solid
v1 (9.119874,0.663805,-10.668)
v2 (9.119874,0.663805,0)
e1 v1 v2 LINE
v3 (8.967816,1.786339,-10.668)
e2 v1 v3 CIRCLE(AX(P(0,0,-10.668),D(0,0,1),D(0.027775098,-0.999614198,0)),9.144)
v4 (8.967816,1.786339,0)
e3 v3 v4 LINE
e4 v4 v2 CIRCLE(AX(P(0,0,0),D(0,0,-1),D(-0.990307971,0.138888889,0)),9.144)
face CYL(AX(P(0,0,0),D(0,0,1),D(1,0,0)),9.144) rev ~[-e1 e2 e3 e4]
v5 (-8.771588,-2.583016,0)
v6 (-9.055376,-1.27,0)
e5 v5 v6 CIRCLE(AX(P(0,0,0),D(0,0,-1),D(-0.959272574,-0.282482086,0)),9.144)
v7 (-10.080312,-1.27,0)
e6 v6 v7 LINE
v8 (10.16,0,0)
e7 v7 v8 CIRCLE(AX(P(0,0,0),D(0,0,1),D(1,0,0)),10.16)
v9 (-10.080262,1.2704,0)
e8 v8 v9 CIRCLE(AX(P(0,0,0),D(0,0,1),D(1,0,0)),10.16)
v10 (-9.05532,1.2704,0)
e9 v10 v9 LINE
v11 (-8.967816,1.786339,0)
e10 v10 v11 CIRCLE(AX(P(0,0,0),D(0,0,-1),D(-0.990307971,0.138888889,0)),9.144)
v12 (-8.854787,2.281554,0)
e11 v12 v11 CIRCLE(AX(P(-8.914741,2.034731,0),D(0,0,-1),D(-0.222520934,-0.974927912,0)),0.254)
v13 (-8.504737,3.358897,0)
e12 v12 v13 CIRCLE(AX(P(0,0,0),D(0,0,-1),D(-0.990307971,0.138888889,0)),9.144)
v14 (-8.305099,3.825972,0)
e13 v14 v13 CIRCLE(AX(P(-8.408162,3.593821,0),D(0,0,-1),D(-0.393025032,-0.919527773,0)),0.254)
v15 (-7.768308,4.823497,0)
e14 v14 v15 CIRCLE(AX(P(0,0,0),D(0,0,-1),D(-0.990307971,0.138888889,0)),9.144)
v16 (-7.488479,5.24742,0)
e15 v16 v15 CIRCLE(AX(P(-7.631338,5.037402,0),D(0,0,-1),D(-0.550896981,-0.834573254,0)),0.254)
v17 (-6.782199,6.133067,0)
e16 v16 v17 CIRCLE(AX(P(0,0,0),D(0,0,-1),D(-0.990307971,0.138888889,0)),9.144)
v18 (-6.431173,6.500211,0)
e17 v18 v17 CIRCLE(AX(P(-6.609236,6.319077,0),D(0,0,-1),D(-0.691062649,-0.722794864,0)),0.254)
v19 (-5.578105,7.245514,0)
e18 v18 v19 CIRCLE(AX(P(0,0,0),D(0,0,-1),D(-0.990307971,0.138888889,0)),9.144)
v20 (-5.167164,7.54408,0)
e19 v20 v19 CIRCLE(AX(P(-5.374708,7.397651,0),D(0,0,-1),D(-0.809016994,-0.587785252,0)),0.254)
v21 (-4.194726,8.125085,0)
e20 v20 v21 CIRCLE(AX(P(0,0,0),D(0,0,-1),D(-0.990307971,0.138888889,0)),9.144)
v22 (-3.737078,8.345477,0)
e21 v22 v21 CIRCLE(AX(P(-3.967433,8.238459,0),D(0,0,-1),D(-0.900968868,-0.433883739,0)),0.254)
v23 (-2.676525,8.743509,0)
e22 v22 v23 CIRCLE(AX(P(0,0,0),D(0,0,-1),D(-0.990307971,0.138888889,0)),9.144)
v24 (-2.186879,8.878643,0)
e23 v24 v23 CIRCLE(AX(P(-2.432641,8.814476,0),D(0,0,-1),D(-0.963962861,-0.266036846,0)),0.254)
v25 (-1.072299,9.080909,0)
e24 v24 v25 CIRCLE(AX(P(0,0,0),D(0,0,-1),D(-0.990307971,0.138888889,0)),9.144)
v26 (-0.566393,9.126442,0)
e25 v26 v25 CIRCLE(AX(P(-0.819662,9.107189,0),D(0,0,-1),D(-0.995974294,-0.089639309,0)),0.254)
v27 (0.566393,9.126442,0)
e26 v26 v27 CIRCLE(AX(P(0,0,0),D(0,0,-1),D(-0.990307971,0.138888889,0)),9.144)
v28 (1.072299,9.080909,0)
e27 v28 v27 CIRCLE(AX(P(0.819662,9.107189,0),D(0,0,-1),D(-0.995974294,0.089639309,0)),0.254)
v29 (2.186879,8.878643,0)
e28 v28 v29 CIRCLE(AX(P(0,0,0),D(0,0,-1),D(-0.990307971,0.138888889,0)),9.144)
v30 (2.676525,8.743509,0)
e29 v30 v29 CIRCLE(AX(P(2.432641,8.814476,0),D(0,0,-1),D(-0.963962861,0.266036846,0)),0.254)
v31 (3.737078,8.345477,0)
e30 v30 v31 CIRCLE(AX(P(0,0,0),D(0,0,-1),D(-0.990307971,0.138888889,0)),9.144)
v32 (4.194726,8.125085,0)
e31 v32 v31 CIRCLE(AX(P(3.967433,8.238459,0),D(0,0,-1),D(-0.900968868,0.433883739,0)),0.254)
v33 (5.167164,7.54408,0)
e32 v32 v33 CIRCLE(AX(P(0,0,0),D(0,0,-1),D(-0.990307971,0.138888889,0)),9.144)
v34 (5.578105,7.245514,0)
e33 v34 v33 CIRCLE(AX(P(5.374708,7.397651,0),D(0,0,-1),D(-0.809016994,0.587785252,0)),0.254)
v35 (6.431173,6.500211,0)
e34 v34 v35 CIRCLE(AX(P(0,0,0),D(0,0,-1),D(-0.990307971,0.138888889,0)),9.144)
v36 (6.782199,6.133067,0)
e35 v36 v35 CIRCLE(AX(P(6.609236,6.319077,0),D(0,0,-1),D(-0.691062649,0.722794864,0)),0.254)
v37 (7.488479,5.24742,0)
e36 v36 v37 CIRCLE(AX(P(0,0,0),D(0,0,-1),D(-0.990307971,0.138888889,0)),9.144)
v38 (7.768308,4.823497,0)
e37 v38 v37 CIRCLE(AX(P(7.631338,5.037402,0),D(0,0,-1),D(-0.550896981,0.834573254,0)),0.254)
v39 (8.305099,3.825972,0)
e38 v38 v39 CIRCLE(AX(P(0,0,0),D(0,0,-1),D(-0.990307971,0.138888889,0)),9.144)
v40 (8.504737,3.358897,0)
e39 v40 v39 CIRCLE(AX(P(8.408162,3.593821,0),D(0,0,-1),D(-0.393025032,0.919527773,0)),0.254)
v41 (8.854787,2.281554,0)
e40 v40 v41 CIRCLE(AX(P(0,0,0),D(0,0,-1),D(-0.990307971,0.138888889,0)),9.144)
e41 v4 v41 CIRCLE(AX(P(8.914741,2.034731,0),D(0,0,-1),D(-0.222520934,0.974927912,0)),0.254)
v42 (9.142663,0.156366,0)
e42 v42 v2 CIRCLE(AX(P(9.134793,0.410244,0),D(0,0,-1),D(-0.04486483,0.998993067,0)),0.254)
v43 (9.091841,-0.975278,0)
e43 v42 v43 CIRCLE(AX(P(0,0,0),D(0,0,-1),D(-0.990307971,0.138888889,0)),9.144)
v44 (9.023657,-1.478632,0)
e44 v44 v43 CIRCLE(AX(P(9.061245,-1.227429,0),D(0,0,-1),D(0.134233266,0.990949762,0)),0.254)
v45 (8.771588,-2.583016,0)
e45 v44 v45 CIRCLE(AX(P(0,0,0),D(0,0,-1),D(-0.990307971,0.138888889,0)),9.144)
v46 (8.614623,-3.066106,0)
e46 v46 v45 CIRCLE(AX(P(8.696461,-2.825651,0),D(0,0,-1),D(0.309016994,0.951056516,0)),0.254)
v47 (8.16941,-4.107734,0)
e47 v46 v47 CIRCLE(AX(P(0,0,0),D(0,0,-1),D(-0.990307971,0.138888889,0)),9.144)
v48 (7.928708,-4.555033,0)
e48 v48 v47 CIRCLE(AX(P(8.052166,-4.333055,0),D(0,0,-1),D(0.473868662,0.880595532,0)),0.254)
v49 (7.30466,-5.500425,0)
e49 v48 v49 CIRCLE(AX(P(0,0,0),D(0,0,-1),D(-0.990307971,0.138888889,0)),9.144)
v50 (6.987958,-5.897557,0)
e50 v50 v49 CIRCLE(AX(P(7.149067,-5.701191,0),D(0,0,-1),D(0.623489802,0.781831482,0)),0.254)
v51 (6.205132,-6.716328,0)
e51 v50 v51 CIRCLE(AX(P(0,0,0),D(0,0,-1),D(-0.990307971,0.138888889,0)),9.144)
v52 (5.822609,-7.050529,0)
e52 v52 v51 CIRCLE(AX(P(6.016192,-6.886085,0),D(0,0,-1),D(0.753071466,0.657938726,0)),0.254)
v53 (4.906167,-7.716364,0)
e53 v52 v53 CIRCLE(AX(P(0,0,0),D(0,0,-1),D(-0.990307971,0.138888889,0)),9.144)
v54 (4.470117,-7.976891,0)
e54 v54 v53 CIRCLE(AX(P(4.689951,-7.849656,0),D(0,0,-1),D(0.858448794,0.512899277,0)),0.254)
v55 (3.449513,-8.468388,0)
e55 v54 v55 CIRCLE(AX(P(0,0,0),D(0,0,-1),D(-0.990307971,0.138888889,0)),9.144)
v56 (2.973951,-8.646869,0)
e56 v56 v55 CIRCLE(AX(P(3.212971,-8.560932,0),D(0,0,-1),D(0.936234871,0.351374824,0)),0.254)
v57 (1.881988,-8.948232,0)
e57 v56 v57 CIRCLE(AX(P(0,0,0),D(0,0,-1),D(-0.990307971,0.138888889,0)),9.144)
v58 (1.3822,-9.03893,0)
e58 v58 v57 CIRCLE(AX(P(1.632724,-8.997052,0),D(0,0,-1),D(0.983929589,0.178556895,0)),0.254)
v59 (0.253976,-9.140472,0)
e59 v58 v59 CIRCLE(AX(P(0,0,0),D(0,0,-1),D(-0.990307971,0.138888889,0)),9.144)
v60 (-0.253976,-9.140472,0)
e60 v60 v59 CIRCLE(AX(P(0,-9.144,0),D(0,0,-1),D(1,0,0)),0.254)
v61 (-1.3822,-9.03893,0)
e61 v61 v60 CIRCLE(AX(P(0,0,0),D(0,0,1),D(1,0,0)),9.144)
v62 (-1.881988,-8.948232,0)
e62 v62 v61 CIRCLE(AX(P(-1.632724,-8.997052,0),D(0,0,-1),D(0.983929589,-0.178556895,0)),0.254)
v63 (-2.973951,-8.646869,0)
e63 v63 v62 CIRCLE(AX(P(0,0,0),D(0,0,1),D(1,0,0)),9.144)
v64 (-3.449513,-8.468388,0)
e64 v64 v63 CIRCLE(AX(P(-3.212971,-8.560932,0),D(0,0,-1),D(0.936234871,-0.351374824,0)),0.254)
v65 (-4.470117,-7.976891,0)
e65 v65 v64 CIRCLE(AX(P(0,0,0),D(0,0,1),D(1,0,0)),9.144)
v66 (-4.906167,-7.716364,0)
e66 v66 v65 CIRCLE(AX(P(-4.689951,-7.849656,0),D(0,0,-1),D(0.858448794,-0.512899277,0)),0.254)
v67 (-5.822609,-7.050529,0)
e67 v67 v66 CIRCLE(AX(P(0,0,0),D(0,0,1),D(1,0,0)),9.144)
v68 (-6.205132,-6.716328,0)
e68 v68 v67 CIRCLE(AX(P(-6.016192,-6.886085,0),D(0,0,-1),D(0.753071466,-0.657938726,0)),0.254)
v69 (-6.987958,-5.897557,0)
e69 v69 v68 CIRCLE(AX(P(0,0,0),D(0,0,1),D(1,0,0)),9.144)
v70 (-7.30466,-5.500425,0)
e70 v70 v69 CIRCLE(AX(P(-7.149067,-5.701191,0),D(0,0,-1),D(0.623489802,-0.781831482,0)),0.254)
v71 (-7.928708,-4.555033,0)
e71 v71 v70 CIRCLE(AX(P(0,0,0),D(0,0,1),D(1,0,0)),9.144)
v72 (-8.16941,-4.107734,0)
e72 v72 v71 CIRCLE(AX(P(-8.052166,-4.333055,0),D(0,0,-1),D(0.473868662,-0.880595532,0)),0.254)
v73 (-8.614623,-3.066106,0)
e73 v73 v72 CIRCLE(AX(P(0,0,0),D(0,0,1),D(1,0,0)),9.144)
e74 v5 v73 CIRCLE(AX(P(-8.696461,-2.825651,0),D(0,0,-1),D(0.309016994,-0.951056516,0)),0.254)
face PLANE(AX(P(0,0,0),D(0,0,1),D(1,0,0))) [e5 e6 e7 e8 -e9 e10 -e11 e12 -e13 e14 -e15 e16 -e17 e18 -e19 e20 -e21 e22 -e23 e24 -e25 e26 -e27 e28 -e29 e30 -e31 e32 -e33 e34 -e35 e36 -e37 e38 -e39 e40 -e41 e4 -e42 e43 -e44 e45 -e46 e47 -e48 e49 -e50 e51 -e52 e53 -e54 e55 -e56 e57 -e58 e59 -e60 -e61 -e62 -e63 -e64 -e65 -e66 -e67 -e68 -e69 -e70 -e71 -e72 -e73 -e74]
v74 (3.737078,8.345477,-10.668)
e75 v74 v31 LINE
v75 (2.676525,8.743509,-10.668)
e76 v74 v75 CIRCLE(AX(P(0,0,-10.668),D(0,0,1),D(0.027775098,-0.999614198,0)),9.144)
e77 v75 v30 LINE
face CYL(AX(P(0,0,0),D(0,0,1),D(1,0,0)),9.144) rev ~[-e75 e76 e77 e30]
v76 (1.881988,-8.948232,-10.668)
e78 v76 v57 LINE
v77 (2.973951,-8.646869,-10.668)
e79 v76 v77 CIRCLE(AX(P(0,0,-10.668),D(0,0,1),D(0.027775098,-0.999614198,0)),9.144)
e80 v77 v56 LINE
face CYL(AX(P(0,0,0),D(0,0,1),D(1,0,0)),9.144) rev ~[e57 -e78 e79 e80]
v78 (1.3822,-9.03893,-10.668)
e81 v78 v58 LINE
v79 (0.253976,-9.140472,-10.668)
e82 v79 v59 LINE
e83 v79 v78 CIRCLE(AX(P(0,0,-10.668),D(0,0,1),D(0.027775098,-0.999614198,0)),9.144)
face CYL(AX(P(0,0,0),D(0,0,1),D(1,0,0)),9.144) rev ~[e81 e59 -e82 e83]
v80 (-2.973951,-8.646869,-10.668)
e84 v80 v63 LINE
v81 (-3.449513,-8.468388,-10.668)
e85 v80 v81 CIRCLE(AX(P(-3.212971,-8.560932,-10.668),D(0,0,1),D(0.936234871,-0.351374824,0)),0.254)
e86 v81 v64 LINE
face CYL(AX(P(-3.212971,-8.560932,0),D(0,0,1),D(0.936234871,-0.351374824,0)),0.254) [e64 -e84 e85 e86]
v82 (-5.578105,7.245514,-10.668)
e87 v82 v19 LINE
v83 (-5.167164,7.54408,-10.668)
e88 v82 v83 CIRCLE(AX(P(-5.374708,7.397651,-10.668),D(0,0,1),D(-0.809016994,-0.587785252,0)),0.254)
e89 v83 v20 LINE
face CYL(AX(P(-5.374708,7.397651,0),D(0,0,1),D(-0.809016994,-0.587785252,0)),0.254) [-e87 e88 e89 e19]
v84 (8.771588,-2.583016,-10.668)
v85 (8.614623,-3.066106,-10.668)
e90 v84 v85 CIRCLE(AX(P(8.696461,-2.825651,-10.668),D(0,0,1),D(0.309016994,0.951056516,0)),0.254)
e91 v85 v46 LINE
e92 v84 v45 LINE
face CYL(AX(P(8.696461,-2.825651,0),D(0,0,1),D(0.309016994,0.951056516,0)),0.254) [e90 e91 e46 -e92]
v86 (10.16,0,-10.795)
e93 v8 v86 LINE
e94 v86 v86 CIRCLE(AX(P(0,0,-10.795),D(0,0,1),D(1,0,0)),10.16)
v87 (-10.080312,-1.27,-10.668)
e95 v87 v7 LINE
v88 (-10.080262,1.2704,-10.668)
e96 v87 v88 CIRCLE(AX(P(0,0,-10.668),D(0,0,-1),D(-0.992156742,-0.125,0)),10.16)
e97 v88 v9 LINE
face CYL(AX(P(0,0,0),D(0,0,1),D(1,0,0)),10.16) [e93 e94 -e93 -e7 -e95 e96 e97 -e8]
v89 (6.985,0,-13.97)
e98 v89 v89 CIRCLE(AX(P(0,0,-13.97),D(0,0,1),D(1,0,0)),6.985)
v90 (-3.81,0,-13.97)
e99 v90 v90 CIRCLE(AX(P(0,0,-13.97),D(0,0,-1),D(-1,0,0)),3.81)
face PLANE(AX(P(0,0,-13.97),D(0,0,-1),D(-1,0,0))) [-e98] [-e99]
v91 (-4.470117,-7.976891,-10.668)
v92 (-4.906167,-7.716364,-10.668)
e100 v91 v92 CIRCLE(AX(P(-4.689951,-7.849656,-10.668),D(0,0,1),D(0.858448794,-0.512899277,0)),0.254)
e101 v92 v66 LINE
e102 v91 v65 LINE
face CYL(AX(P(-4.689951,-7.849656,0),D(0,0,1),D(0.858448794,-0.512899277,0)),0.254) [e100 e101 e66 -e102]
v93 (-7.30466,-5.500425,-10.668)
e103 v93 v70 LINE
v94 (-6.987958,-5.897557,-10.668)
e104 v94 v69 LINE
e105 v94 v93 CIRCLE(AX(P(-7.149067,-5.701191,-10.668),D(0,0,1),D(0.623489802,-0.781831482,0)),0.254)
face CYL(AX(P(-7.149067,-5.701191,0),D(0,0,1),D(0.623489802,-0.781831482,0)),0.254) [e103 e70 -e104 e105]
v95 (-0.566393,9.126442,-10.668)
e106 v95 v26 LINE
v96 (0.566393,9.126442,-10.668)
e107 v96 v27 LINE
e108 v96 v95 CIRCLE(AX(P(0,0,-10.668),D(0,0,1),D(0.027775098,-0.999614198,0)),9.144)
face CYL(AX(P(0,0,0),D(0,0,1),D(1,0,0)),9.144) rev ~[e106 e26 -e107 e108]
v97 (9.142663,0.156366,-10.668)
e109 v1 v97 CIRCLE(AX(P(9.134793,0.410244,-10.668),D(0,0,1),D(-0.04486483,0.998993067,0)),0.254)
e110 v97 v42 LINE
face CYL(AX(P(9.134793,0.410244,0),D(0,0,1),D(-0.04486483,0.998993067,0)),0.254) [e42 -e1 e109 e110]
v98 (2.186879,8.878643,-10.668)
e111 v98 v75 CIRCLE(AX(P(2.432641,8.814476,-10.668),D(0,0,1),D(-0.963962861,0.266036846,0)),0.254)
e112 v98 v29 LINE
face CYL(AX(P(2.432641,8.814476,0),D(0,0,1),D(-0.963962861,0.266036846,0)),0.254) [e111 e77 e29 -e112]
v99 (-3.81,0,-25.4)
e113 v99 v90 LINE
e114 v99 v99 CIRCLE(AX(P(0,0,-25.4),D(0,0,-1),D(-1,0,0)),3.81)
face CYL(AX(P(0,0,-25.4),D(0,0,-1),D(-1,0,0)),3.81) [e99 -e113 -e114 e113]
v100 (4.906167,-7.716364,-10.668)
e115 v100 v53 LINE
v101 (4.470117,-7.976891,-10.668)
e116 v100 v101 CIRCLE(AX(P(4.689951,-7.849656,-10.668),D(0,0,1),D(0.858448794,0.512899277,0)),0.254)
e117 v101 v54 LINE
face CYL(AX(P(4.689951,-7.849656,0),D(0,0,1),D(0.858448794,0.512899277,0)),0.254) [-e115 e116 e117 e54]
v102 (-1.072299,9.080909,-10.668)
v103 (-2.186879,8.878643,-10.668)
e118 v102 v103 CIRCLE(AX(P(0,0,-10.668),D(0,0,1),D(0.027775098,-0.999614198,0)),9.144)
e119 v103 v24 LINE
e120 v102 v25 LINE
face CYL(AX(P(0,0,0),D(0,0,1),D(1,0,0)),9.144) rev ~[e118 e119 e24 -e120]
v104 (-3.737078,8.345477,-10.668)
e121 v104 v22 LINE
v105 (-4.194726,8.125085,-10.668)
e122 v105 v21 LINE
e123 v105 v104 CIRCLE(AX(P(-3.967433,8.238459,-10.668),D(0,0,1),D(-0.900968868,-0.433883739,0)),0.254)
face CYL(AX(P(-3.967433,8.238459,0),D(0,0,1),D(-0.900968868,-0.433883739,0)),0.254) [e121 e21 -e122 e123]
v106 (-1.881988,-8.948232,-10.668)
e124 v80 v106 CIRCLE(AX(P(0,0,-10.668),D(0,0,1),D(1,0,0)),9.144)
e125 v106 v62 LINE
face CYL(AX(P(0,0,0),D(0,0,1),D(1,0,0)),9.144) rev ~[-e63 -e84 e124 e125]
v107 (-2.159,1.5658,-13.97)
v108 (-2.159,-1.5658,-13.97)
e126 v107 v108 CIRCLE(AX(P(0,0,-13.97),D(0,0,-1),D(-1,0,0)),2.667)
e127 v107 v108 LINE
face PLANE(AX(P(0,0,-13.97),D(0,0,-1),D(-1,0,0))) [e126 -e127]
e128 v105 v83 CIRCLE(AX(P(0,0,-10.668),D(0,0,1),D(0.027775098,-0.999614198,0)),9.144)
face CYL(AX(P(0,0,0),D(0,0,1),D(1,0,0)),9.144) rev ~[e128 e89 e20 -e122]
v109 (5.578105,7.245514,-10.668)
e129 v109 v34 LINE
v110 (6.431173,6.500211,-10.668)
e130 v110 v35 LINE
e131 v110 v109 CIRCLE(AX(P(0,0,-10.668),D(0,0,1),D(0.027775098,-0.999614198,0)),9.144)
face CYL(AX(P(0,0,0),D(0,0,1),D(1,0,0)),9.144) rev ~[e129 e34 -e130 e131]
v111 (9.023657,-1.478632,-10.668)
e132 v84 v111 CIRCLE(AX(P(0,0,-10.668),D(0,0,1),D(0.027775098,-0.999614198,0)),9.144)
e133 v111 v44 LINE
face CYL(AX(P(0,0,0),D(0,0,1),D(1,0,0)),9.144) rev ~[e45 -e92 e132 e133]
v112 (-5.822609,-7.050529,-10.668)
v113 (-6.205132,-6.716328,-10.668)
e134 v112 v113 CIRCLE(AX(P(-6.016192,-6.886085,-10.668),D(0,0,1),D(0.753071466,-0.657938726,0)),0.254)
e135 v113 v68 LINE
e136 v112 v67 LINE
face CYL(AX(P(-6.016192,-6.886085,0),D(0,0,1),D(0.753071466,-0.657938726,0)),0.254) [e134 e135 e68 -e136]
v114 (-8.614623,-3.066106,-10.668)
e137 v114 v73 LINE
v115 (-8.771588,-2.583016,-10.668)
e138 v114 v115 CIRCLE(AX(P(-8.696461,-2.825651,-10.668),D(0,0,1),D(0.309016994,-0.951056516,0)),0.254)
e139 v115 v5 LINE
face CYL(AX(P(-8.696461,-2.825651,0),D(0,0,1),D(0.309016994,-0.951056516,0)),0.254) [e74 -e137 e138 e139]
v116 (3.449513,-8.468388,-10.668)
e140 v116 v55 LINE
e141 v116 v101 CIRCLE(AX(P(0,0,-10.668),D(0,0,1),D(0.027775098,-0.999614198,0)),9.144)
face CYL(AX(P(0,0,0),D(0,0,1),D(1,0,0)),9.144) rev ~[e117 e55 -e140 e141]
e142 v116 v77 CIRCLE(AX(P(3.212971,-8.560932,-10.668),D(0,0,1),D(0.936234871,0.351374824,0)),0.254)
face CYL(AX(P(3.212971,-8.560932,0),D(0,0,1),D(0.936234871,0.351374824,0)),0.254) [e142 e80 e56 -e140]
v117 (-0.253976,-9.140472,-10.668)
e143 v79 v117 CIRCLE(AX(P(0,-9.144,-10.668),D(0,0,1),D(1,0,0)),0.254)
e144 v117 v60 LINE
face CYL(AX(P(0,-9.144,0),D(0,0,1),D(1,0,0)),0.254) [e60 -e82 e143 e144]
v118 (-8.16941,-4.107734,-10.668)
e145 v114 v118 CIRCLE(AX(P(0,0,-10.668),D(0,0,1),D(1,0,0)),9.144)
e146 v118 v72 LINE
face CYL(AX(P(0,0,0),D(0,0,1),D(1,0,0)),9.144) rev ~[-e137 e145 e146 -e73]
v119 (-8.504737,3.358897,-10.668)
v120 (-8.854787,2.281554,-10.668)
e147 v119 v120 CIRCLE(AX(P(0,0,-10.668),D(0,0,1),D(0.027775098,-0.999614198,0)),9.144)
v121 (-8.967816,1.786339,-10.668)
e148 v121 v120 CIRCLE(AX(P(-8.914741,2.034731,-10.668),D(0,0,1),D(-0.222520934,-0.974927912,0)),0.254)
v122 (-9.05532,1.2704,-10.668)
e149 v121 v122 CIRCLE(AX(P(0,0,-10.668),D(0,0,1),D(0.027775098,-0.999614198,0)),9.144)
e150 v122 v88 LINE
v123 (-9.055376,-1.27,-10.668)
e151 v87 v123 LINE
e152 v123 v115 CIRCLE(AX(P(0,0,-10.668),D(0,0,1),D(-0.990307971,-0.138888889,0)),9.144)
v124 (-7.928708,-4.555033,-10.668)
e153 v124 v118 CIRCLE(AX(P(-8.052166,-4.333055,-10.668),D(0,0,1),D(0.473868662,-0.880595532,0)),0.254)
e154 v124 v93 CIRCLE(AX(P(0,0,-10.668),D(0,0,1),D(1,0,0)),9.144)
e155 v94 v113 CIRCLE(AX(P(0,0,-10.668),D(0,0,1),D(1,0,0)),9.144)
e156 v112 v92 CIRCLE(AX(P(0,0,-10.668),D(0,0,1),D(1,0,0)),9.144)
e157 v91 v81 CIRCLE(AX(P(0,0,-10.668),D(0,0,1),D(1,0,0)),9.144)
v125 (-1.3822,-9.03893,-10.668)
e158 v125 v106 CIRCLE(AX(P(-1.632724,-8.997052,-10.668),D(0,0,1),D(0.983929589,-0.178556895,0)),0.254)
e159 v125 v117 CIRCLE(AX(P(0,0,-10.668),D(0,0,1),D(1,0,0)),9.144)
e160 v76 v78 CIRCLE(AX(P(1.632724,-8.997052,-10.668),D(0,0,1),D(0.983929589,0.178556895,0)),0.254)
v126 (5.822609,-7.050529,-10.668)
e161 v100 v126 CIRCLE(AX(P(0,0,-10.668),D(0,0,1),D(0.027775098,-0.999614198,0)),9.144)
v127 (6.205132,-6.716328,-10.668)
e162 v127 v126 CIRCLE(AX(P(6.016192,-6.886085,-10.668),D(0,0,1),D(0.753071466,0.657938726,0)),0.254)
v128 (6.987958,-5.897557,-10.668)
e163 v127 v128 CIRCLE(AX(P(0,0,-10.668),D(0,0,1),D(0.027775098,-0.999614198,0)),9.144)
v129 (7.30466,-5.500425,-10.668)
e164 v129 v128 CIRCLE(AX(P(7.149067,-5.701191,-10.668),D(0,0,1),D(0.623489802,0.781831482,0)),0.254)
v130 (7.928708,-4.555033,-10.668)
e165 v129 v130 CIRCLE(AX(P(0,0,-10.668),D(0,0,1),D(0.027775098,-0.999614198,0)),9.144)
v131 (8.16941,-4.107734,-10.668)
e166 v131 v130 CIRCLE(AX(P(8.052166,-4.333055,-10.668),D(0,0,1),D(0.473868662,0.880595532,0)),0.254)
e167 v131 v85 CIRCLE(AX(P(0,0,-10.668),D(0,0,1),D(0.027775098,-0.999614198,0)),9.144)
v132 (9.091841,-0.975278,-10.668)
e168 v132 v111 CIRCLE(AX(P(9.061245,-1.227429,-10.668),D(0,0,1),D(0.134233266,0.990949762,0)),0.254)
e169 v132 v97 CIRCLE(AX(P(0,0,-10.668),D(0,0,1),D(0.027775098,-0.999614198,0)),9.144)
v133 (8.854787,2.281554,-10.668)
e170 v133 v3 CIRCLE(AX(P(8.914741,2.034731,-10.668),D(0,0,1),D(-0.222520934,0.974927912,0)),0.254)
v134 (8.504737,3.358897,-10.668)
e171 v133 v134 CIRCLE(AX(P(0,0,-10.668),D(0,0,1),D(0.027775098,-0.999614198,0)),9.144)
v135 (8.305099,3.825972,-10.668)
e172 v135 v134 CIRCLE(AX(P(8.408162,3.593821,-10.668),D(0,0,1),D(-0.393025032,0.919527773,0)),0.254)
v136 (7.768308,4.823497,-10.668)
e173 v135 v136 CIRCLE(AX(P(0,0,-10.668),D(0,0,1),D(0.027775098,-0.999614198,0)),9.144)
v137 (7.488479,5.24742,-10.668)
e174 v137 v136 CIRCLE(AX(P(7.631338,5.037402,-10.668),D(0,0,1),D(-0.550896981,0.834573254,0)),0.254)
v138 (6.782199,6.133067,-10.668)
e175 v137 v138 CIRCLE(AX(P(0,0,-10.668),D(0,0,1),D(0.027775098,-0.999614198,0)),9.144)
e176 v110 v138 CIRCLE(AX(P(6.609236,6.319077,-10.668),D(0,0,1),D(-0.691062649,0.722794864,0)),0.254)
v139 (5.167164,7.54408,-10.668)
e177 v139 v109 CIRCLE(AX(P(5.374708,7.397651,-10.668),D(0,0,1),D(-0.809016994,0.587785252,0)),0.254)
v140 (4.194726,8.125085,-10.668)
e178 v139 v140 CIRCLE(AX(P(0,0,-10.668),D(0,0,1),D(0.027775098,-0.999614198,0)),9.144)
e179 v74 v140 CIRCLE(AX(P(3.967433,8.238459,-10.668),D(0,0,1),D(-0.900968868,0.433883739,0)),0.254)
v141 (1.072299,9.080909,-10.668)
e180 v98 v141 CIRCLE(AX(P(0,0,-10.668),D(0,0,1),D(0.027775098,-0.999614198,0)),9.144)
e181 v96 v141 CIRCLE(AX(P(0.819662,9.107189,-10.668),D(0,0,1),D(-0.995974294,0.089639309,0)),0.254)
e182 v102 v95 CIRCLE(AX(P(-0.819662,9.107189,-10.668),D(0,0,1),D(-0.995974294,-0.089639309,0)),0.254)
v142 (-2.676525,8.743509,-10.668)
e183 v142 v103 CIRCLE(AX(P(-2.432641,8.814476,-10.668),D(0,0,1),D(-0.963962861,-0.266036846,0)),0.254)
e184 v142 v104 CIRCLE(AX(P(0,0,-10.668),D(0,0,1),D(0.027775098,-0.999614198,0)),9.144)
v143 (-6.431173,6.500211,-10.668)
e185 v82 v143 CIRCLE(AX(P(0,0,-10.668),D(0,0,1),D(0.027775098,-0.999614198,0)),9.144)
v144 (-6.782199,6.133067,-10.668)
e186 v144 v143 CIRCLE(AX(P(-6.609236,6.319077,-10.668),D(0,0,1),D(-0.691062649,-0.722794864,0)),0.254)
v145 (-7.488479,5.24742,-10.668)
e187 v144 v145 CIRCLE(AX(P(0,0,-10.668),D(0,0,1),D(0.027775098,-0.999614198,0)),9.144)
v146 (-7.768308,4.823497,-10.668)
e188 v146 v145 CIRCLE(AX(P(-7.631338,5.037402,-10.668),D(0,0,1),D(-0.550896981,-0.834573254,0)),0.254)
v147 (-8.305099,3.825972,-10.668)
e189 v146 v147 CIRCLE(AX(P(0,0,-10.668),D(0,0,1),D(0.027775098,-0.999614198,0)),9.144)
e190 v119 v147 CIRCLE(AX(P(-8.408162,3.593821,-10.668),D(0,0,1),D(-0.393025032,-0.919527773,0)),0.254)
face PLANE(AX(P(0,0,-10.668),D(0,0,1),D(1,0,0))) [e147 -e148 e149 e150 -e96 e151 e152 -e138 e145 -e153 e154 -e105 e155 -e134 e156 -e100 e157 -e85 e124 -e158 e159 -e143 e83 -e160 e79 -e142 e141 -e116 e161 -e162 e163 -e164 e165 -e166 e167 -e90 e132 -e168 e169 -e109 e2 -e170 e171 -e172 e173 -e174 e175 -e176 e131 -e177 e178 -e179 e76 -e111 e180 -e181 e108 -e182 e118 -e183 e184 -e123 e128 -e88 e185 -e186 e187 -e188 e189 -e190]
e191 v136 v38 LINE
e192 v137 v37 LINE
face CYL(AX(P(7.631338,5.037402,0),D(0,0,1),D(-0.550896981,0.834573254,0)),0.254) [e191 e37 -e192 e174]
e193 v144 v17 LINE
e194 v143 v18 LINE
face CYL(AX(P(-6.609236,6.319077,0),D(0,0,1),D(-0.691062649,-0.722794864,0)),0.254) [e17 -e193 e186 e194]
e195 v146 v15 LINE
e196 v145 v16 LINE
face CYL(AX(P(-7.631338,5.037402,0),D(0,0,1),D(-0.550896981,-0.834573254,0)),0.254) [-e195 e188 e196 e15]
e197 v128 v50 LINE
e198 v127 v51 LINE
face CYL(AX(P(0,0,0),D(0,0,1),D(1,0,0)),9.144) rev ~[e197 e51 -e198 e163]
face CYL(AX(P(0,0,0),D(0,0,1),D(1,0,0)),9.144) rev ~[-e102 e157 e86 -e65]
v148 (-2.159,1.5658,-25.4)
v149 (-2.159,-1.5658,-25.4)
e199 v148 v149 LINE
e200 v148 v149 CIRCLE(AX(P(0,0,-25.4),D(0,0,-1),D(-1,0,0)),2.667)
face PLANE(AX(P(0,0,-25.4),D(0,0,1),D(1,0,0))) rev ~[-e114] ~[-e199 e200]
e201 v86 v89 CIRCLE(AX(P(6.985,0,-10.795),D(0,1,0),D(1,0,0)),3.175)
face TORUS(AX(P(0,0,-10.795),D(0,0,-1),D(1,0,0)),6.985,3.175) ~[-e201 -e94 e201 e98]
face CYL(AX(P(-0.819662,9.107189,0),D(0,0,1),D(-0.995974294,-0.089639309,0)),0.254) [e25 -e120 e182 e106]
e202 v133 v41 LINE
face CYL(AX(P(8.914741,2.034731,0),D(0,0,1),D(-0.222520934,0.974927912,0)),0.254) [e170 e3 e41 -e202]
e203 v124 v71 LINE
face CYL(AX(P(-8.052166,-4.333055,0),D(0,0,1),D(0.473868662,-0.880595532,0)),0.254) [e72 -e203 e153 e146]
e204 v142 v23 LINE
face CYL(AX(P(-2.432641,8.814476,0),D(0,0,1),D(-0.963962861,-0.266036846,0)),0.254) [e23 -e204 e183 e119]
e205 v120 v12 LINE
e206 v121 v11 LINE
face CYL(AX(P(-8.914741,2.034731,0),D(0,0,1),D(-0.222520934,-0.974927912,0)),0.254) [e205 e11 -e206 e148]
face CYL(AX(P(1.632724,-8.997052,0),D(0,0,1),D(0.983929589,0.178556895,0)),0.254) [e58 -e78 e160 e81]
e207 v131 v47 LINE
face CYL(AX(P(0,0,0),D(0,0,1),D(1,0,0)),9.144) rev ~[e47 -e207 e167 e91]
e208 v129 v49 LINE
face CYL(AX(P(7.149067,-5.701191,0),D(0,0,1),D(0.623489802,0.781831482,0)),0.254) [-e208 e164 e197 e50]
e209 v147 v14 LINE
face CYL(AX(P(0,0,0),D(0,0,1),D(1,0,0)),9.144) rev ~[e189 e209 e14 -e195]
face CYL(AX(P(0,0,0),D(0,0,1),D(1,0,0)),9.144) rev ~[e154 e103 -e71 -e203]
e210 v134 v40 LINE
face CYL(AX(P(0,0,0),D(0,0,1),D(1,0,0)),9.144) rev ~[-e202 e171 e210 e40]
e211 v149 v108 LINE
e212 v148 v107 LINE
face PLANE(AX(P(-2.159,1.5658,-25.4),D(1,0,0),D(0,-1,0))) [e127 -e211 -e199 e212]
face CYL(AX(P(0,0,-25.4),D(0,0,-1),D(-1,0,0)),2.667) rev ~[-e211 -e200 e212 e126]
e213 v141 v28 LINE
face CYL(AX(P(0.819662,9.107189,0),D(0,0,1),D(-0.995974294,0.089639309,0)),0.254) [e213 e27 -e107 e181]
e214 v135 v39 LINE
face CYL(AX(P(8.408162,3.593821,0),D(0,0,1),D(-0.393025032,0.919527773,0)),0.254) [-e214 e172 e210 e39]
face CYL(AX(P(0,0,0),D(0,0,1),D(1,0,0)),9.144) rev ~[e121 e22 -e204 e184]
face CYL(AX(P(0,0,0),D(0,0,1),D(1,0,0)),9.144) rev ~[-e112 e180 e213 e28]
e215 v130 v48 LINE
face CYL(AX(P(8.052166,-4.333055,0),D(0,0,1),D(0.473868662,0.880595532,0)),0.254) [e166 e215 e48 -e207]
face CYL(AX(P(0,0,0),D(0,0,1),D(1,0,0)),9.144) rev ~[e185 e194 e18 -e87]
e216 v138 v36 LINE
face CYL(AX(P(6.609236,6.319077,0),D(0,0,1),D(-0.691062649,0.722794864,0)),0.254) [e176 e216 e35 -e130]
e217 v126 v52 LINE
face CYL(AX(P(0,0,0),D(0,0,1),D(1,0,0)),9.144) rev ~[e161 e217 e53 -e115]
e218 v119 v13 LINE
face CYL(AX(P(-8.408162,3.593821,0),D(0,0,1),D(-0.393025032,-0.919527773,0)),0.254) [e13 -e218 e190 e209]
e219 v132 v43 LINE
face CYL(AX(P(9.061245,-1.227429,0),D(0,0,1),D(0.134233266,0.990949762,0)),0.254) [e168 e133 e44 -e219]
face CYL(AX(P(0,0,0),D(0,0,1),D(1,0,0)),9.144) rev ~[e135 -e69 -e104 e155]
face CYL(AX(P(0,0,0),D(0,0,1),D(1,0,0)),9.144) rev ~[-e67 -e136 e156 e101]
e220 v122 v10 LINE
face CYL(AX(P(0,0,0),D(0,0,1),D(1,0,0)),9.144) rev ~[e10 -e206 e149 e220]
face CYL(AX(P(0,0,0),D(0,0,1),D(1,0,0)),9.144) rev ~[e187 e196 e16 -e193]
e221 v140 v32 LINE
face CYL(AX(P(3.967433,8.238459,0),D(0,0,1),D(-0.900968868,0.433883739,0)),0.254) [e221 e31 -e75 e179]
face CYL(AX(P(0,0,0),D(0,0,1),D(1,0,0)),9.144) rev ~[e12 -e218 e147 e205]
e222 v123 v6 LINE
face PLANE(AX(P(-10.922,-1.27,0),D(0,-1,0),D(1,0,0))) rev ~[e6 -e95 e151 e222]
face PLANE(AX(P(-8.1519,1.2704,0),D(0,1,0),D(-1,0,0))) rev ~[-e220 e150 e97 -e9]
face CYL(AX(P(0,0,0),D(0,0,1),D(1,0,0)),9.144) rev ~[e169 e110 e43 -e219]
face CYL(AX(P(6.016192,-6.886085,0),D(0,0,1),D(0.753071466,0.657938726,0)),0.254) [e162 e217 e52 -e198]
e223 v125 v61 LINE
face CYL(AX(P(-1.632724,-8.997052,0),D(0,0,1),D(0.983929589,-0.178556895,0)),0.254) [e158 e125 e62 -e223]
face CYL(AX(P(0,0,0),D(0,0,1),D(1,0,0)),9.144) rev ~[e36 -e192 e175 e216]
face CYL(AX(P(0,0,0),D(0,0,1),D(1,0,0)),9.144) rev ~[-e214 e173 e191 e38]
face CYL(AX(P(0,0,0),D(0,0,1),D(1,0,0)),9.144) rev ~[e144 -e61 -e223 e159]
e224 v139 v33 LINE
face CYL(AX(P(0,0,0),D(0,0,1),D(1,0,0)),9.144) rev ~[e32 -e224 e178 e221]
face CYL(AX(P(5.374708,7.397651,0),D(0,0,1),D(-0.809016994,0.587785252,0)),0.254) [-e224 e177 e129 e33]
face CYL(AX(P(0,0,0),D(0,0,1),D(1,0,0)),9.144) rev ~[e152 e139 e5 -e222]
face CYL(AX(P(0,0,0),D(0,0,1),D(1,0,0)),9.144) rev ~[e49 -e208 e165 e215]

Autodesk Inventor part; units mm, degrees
ref_plane "YZ Plane" through (0, 0, 0) normal (1, 0, 0) x (0, 1, 0)
ref_plane "XZ Plane" through (0, 0, 0) normal (0, 1, 0) x (-1, 0, 0)
ref_plane "XY Plane" through (0, 0, 0) normal (0, 0, 1) x (1, 0, 0)
sketch "Sketch1" plane through (0, 0, 0) normal (0, 0, 1) x (1, 0, 0)
  circle A0 centre (0, 0) radius 10.16
  dimension "d0" = 20.32
extrude "Extrusion1" add sketch "Sketch1" against normal blind 25.4
sketch "Sketch2" plane through (0, 0, 0) normal (0, 0, 1) x (1, 0, 0)
  circle A0 centre (0, 0) radius 9.144
  dimension "d3" = 18.288
extrude "Extrusion2" cut sketch "Sketch2" against normal blind 10.668
sketch "Sketch3" plane through (0, 0, -25.4) normal (0, 0, -1) x (-1, 0, 0)
  circle A0 centre (0, 0) radius 2.667
  line L0 (2.159, 1.5658) -> (2.159, -1.5658)
  dimension "d6" = 5.334
  dimension "d7" = 4.826
extrude "Extrusion3" cut sketch "Sketch3" against normal blind 11.43 contours L0 A0 picked at (-0.0356, -0.8771)
sketch "Sketch4" plane through (0, 0, -25.4) normal (0, 0, -1) x (-1, 0, 0)
  circle A0 centre (0, 0) radius 3.81
  circle A1 centre (0, 0) radius 10.16
  dimension "d10" = 7.62
extrude "Extrusion4" cut sketch "Sketch4" against normal blind 11.43
fillet "Fillet2" radius 3.175 1 edges at (-10.16, 0, -13.97)
sketch "Sketch6" plane through (0, 0, 0) normal (0, 0, 1) x (1, 0, 0)
  line L0 (-10.922, -1.27) -> (-5.08, -1.27)
  line L1 (-5.08, -1.27) -> (-5.08, 1.27)
  line L2 (-5.08, 1.27) -> (-10.922, 1.27)
  line L3 (-10.922, 1.27) -> (-10.922, -1.27)
  point P0 (0, 0)
  dimension "d19" = 2.54
  dimension "d20" = 5.08
  dimension "d21" = 1.27
extrude "Extrusion6" cut sketch "Sketch6" against normal blind 10.668
sketch "Sketch7" plane through (0, 0, 0) normal (0, 0, 1) x (1, 0, 0)
  arc A0 (-9.0554, -1.27) -> (-9.0554, 1.27) centre (0, 0) ccw projected
  circle A1 centre (0, -9.144) radius 0.254
  dimension "d24" = 0.508
extrude "Extrusion7" add sketch "Sketch7" against normal blind 10.668
pattern_circular "Circular Pattern1" count 35 over 360 about axis through (0, 0, 0) along (0, 0, -1) of "Extrusion7"
sketch "Sketch8" plane through (0, 0, 0) normal (0, 0, 1) x (1, 0, 0)
  line L0 (-10.7775, -1.27) -> (-8.1519, -1.27)
  line L1 (-8.1519, -1.27) -> (-8.1519, 1.2704)
  line L2 (-8.1519, 1.2704) -> (-10.7775, 1.2704)
  line L3 (-10.7775, 1.2704) -> (-10.7775, -1.27)
  point P0 (0, 0)
extrude "Extrusion8" cut sketch "Sketch8" against normal blind 10.668
sketch "Sketch9" plane through (0, 0, 0) normal (0, 0, 1) x (1, 0, 0)
  circle A0 centre (0, 0) radius 9.144
  line L0 (-9.2823, -1.8753) -> (-8.4046, -1.8753)
  line L1 (-8.4046, -1.8753) -> (-8.4046, -0.367)
  line L2 (-8.4046, -0.367) -> (-9.2823, -0.367)
  line L3 (-9.2823, -0.367) -> (-9.2823, -1.8753)
  point P0 (-9.1366, -0.367)
  point P1 (-8.9496, -1.8753)
extrude "Extrusion9" cut sketch "Sketch9" against normal blind 10.668 contours L2 L1 L0 A0 picked at (-8.6163, -1.2062)
properties part number "Coupler2"
